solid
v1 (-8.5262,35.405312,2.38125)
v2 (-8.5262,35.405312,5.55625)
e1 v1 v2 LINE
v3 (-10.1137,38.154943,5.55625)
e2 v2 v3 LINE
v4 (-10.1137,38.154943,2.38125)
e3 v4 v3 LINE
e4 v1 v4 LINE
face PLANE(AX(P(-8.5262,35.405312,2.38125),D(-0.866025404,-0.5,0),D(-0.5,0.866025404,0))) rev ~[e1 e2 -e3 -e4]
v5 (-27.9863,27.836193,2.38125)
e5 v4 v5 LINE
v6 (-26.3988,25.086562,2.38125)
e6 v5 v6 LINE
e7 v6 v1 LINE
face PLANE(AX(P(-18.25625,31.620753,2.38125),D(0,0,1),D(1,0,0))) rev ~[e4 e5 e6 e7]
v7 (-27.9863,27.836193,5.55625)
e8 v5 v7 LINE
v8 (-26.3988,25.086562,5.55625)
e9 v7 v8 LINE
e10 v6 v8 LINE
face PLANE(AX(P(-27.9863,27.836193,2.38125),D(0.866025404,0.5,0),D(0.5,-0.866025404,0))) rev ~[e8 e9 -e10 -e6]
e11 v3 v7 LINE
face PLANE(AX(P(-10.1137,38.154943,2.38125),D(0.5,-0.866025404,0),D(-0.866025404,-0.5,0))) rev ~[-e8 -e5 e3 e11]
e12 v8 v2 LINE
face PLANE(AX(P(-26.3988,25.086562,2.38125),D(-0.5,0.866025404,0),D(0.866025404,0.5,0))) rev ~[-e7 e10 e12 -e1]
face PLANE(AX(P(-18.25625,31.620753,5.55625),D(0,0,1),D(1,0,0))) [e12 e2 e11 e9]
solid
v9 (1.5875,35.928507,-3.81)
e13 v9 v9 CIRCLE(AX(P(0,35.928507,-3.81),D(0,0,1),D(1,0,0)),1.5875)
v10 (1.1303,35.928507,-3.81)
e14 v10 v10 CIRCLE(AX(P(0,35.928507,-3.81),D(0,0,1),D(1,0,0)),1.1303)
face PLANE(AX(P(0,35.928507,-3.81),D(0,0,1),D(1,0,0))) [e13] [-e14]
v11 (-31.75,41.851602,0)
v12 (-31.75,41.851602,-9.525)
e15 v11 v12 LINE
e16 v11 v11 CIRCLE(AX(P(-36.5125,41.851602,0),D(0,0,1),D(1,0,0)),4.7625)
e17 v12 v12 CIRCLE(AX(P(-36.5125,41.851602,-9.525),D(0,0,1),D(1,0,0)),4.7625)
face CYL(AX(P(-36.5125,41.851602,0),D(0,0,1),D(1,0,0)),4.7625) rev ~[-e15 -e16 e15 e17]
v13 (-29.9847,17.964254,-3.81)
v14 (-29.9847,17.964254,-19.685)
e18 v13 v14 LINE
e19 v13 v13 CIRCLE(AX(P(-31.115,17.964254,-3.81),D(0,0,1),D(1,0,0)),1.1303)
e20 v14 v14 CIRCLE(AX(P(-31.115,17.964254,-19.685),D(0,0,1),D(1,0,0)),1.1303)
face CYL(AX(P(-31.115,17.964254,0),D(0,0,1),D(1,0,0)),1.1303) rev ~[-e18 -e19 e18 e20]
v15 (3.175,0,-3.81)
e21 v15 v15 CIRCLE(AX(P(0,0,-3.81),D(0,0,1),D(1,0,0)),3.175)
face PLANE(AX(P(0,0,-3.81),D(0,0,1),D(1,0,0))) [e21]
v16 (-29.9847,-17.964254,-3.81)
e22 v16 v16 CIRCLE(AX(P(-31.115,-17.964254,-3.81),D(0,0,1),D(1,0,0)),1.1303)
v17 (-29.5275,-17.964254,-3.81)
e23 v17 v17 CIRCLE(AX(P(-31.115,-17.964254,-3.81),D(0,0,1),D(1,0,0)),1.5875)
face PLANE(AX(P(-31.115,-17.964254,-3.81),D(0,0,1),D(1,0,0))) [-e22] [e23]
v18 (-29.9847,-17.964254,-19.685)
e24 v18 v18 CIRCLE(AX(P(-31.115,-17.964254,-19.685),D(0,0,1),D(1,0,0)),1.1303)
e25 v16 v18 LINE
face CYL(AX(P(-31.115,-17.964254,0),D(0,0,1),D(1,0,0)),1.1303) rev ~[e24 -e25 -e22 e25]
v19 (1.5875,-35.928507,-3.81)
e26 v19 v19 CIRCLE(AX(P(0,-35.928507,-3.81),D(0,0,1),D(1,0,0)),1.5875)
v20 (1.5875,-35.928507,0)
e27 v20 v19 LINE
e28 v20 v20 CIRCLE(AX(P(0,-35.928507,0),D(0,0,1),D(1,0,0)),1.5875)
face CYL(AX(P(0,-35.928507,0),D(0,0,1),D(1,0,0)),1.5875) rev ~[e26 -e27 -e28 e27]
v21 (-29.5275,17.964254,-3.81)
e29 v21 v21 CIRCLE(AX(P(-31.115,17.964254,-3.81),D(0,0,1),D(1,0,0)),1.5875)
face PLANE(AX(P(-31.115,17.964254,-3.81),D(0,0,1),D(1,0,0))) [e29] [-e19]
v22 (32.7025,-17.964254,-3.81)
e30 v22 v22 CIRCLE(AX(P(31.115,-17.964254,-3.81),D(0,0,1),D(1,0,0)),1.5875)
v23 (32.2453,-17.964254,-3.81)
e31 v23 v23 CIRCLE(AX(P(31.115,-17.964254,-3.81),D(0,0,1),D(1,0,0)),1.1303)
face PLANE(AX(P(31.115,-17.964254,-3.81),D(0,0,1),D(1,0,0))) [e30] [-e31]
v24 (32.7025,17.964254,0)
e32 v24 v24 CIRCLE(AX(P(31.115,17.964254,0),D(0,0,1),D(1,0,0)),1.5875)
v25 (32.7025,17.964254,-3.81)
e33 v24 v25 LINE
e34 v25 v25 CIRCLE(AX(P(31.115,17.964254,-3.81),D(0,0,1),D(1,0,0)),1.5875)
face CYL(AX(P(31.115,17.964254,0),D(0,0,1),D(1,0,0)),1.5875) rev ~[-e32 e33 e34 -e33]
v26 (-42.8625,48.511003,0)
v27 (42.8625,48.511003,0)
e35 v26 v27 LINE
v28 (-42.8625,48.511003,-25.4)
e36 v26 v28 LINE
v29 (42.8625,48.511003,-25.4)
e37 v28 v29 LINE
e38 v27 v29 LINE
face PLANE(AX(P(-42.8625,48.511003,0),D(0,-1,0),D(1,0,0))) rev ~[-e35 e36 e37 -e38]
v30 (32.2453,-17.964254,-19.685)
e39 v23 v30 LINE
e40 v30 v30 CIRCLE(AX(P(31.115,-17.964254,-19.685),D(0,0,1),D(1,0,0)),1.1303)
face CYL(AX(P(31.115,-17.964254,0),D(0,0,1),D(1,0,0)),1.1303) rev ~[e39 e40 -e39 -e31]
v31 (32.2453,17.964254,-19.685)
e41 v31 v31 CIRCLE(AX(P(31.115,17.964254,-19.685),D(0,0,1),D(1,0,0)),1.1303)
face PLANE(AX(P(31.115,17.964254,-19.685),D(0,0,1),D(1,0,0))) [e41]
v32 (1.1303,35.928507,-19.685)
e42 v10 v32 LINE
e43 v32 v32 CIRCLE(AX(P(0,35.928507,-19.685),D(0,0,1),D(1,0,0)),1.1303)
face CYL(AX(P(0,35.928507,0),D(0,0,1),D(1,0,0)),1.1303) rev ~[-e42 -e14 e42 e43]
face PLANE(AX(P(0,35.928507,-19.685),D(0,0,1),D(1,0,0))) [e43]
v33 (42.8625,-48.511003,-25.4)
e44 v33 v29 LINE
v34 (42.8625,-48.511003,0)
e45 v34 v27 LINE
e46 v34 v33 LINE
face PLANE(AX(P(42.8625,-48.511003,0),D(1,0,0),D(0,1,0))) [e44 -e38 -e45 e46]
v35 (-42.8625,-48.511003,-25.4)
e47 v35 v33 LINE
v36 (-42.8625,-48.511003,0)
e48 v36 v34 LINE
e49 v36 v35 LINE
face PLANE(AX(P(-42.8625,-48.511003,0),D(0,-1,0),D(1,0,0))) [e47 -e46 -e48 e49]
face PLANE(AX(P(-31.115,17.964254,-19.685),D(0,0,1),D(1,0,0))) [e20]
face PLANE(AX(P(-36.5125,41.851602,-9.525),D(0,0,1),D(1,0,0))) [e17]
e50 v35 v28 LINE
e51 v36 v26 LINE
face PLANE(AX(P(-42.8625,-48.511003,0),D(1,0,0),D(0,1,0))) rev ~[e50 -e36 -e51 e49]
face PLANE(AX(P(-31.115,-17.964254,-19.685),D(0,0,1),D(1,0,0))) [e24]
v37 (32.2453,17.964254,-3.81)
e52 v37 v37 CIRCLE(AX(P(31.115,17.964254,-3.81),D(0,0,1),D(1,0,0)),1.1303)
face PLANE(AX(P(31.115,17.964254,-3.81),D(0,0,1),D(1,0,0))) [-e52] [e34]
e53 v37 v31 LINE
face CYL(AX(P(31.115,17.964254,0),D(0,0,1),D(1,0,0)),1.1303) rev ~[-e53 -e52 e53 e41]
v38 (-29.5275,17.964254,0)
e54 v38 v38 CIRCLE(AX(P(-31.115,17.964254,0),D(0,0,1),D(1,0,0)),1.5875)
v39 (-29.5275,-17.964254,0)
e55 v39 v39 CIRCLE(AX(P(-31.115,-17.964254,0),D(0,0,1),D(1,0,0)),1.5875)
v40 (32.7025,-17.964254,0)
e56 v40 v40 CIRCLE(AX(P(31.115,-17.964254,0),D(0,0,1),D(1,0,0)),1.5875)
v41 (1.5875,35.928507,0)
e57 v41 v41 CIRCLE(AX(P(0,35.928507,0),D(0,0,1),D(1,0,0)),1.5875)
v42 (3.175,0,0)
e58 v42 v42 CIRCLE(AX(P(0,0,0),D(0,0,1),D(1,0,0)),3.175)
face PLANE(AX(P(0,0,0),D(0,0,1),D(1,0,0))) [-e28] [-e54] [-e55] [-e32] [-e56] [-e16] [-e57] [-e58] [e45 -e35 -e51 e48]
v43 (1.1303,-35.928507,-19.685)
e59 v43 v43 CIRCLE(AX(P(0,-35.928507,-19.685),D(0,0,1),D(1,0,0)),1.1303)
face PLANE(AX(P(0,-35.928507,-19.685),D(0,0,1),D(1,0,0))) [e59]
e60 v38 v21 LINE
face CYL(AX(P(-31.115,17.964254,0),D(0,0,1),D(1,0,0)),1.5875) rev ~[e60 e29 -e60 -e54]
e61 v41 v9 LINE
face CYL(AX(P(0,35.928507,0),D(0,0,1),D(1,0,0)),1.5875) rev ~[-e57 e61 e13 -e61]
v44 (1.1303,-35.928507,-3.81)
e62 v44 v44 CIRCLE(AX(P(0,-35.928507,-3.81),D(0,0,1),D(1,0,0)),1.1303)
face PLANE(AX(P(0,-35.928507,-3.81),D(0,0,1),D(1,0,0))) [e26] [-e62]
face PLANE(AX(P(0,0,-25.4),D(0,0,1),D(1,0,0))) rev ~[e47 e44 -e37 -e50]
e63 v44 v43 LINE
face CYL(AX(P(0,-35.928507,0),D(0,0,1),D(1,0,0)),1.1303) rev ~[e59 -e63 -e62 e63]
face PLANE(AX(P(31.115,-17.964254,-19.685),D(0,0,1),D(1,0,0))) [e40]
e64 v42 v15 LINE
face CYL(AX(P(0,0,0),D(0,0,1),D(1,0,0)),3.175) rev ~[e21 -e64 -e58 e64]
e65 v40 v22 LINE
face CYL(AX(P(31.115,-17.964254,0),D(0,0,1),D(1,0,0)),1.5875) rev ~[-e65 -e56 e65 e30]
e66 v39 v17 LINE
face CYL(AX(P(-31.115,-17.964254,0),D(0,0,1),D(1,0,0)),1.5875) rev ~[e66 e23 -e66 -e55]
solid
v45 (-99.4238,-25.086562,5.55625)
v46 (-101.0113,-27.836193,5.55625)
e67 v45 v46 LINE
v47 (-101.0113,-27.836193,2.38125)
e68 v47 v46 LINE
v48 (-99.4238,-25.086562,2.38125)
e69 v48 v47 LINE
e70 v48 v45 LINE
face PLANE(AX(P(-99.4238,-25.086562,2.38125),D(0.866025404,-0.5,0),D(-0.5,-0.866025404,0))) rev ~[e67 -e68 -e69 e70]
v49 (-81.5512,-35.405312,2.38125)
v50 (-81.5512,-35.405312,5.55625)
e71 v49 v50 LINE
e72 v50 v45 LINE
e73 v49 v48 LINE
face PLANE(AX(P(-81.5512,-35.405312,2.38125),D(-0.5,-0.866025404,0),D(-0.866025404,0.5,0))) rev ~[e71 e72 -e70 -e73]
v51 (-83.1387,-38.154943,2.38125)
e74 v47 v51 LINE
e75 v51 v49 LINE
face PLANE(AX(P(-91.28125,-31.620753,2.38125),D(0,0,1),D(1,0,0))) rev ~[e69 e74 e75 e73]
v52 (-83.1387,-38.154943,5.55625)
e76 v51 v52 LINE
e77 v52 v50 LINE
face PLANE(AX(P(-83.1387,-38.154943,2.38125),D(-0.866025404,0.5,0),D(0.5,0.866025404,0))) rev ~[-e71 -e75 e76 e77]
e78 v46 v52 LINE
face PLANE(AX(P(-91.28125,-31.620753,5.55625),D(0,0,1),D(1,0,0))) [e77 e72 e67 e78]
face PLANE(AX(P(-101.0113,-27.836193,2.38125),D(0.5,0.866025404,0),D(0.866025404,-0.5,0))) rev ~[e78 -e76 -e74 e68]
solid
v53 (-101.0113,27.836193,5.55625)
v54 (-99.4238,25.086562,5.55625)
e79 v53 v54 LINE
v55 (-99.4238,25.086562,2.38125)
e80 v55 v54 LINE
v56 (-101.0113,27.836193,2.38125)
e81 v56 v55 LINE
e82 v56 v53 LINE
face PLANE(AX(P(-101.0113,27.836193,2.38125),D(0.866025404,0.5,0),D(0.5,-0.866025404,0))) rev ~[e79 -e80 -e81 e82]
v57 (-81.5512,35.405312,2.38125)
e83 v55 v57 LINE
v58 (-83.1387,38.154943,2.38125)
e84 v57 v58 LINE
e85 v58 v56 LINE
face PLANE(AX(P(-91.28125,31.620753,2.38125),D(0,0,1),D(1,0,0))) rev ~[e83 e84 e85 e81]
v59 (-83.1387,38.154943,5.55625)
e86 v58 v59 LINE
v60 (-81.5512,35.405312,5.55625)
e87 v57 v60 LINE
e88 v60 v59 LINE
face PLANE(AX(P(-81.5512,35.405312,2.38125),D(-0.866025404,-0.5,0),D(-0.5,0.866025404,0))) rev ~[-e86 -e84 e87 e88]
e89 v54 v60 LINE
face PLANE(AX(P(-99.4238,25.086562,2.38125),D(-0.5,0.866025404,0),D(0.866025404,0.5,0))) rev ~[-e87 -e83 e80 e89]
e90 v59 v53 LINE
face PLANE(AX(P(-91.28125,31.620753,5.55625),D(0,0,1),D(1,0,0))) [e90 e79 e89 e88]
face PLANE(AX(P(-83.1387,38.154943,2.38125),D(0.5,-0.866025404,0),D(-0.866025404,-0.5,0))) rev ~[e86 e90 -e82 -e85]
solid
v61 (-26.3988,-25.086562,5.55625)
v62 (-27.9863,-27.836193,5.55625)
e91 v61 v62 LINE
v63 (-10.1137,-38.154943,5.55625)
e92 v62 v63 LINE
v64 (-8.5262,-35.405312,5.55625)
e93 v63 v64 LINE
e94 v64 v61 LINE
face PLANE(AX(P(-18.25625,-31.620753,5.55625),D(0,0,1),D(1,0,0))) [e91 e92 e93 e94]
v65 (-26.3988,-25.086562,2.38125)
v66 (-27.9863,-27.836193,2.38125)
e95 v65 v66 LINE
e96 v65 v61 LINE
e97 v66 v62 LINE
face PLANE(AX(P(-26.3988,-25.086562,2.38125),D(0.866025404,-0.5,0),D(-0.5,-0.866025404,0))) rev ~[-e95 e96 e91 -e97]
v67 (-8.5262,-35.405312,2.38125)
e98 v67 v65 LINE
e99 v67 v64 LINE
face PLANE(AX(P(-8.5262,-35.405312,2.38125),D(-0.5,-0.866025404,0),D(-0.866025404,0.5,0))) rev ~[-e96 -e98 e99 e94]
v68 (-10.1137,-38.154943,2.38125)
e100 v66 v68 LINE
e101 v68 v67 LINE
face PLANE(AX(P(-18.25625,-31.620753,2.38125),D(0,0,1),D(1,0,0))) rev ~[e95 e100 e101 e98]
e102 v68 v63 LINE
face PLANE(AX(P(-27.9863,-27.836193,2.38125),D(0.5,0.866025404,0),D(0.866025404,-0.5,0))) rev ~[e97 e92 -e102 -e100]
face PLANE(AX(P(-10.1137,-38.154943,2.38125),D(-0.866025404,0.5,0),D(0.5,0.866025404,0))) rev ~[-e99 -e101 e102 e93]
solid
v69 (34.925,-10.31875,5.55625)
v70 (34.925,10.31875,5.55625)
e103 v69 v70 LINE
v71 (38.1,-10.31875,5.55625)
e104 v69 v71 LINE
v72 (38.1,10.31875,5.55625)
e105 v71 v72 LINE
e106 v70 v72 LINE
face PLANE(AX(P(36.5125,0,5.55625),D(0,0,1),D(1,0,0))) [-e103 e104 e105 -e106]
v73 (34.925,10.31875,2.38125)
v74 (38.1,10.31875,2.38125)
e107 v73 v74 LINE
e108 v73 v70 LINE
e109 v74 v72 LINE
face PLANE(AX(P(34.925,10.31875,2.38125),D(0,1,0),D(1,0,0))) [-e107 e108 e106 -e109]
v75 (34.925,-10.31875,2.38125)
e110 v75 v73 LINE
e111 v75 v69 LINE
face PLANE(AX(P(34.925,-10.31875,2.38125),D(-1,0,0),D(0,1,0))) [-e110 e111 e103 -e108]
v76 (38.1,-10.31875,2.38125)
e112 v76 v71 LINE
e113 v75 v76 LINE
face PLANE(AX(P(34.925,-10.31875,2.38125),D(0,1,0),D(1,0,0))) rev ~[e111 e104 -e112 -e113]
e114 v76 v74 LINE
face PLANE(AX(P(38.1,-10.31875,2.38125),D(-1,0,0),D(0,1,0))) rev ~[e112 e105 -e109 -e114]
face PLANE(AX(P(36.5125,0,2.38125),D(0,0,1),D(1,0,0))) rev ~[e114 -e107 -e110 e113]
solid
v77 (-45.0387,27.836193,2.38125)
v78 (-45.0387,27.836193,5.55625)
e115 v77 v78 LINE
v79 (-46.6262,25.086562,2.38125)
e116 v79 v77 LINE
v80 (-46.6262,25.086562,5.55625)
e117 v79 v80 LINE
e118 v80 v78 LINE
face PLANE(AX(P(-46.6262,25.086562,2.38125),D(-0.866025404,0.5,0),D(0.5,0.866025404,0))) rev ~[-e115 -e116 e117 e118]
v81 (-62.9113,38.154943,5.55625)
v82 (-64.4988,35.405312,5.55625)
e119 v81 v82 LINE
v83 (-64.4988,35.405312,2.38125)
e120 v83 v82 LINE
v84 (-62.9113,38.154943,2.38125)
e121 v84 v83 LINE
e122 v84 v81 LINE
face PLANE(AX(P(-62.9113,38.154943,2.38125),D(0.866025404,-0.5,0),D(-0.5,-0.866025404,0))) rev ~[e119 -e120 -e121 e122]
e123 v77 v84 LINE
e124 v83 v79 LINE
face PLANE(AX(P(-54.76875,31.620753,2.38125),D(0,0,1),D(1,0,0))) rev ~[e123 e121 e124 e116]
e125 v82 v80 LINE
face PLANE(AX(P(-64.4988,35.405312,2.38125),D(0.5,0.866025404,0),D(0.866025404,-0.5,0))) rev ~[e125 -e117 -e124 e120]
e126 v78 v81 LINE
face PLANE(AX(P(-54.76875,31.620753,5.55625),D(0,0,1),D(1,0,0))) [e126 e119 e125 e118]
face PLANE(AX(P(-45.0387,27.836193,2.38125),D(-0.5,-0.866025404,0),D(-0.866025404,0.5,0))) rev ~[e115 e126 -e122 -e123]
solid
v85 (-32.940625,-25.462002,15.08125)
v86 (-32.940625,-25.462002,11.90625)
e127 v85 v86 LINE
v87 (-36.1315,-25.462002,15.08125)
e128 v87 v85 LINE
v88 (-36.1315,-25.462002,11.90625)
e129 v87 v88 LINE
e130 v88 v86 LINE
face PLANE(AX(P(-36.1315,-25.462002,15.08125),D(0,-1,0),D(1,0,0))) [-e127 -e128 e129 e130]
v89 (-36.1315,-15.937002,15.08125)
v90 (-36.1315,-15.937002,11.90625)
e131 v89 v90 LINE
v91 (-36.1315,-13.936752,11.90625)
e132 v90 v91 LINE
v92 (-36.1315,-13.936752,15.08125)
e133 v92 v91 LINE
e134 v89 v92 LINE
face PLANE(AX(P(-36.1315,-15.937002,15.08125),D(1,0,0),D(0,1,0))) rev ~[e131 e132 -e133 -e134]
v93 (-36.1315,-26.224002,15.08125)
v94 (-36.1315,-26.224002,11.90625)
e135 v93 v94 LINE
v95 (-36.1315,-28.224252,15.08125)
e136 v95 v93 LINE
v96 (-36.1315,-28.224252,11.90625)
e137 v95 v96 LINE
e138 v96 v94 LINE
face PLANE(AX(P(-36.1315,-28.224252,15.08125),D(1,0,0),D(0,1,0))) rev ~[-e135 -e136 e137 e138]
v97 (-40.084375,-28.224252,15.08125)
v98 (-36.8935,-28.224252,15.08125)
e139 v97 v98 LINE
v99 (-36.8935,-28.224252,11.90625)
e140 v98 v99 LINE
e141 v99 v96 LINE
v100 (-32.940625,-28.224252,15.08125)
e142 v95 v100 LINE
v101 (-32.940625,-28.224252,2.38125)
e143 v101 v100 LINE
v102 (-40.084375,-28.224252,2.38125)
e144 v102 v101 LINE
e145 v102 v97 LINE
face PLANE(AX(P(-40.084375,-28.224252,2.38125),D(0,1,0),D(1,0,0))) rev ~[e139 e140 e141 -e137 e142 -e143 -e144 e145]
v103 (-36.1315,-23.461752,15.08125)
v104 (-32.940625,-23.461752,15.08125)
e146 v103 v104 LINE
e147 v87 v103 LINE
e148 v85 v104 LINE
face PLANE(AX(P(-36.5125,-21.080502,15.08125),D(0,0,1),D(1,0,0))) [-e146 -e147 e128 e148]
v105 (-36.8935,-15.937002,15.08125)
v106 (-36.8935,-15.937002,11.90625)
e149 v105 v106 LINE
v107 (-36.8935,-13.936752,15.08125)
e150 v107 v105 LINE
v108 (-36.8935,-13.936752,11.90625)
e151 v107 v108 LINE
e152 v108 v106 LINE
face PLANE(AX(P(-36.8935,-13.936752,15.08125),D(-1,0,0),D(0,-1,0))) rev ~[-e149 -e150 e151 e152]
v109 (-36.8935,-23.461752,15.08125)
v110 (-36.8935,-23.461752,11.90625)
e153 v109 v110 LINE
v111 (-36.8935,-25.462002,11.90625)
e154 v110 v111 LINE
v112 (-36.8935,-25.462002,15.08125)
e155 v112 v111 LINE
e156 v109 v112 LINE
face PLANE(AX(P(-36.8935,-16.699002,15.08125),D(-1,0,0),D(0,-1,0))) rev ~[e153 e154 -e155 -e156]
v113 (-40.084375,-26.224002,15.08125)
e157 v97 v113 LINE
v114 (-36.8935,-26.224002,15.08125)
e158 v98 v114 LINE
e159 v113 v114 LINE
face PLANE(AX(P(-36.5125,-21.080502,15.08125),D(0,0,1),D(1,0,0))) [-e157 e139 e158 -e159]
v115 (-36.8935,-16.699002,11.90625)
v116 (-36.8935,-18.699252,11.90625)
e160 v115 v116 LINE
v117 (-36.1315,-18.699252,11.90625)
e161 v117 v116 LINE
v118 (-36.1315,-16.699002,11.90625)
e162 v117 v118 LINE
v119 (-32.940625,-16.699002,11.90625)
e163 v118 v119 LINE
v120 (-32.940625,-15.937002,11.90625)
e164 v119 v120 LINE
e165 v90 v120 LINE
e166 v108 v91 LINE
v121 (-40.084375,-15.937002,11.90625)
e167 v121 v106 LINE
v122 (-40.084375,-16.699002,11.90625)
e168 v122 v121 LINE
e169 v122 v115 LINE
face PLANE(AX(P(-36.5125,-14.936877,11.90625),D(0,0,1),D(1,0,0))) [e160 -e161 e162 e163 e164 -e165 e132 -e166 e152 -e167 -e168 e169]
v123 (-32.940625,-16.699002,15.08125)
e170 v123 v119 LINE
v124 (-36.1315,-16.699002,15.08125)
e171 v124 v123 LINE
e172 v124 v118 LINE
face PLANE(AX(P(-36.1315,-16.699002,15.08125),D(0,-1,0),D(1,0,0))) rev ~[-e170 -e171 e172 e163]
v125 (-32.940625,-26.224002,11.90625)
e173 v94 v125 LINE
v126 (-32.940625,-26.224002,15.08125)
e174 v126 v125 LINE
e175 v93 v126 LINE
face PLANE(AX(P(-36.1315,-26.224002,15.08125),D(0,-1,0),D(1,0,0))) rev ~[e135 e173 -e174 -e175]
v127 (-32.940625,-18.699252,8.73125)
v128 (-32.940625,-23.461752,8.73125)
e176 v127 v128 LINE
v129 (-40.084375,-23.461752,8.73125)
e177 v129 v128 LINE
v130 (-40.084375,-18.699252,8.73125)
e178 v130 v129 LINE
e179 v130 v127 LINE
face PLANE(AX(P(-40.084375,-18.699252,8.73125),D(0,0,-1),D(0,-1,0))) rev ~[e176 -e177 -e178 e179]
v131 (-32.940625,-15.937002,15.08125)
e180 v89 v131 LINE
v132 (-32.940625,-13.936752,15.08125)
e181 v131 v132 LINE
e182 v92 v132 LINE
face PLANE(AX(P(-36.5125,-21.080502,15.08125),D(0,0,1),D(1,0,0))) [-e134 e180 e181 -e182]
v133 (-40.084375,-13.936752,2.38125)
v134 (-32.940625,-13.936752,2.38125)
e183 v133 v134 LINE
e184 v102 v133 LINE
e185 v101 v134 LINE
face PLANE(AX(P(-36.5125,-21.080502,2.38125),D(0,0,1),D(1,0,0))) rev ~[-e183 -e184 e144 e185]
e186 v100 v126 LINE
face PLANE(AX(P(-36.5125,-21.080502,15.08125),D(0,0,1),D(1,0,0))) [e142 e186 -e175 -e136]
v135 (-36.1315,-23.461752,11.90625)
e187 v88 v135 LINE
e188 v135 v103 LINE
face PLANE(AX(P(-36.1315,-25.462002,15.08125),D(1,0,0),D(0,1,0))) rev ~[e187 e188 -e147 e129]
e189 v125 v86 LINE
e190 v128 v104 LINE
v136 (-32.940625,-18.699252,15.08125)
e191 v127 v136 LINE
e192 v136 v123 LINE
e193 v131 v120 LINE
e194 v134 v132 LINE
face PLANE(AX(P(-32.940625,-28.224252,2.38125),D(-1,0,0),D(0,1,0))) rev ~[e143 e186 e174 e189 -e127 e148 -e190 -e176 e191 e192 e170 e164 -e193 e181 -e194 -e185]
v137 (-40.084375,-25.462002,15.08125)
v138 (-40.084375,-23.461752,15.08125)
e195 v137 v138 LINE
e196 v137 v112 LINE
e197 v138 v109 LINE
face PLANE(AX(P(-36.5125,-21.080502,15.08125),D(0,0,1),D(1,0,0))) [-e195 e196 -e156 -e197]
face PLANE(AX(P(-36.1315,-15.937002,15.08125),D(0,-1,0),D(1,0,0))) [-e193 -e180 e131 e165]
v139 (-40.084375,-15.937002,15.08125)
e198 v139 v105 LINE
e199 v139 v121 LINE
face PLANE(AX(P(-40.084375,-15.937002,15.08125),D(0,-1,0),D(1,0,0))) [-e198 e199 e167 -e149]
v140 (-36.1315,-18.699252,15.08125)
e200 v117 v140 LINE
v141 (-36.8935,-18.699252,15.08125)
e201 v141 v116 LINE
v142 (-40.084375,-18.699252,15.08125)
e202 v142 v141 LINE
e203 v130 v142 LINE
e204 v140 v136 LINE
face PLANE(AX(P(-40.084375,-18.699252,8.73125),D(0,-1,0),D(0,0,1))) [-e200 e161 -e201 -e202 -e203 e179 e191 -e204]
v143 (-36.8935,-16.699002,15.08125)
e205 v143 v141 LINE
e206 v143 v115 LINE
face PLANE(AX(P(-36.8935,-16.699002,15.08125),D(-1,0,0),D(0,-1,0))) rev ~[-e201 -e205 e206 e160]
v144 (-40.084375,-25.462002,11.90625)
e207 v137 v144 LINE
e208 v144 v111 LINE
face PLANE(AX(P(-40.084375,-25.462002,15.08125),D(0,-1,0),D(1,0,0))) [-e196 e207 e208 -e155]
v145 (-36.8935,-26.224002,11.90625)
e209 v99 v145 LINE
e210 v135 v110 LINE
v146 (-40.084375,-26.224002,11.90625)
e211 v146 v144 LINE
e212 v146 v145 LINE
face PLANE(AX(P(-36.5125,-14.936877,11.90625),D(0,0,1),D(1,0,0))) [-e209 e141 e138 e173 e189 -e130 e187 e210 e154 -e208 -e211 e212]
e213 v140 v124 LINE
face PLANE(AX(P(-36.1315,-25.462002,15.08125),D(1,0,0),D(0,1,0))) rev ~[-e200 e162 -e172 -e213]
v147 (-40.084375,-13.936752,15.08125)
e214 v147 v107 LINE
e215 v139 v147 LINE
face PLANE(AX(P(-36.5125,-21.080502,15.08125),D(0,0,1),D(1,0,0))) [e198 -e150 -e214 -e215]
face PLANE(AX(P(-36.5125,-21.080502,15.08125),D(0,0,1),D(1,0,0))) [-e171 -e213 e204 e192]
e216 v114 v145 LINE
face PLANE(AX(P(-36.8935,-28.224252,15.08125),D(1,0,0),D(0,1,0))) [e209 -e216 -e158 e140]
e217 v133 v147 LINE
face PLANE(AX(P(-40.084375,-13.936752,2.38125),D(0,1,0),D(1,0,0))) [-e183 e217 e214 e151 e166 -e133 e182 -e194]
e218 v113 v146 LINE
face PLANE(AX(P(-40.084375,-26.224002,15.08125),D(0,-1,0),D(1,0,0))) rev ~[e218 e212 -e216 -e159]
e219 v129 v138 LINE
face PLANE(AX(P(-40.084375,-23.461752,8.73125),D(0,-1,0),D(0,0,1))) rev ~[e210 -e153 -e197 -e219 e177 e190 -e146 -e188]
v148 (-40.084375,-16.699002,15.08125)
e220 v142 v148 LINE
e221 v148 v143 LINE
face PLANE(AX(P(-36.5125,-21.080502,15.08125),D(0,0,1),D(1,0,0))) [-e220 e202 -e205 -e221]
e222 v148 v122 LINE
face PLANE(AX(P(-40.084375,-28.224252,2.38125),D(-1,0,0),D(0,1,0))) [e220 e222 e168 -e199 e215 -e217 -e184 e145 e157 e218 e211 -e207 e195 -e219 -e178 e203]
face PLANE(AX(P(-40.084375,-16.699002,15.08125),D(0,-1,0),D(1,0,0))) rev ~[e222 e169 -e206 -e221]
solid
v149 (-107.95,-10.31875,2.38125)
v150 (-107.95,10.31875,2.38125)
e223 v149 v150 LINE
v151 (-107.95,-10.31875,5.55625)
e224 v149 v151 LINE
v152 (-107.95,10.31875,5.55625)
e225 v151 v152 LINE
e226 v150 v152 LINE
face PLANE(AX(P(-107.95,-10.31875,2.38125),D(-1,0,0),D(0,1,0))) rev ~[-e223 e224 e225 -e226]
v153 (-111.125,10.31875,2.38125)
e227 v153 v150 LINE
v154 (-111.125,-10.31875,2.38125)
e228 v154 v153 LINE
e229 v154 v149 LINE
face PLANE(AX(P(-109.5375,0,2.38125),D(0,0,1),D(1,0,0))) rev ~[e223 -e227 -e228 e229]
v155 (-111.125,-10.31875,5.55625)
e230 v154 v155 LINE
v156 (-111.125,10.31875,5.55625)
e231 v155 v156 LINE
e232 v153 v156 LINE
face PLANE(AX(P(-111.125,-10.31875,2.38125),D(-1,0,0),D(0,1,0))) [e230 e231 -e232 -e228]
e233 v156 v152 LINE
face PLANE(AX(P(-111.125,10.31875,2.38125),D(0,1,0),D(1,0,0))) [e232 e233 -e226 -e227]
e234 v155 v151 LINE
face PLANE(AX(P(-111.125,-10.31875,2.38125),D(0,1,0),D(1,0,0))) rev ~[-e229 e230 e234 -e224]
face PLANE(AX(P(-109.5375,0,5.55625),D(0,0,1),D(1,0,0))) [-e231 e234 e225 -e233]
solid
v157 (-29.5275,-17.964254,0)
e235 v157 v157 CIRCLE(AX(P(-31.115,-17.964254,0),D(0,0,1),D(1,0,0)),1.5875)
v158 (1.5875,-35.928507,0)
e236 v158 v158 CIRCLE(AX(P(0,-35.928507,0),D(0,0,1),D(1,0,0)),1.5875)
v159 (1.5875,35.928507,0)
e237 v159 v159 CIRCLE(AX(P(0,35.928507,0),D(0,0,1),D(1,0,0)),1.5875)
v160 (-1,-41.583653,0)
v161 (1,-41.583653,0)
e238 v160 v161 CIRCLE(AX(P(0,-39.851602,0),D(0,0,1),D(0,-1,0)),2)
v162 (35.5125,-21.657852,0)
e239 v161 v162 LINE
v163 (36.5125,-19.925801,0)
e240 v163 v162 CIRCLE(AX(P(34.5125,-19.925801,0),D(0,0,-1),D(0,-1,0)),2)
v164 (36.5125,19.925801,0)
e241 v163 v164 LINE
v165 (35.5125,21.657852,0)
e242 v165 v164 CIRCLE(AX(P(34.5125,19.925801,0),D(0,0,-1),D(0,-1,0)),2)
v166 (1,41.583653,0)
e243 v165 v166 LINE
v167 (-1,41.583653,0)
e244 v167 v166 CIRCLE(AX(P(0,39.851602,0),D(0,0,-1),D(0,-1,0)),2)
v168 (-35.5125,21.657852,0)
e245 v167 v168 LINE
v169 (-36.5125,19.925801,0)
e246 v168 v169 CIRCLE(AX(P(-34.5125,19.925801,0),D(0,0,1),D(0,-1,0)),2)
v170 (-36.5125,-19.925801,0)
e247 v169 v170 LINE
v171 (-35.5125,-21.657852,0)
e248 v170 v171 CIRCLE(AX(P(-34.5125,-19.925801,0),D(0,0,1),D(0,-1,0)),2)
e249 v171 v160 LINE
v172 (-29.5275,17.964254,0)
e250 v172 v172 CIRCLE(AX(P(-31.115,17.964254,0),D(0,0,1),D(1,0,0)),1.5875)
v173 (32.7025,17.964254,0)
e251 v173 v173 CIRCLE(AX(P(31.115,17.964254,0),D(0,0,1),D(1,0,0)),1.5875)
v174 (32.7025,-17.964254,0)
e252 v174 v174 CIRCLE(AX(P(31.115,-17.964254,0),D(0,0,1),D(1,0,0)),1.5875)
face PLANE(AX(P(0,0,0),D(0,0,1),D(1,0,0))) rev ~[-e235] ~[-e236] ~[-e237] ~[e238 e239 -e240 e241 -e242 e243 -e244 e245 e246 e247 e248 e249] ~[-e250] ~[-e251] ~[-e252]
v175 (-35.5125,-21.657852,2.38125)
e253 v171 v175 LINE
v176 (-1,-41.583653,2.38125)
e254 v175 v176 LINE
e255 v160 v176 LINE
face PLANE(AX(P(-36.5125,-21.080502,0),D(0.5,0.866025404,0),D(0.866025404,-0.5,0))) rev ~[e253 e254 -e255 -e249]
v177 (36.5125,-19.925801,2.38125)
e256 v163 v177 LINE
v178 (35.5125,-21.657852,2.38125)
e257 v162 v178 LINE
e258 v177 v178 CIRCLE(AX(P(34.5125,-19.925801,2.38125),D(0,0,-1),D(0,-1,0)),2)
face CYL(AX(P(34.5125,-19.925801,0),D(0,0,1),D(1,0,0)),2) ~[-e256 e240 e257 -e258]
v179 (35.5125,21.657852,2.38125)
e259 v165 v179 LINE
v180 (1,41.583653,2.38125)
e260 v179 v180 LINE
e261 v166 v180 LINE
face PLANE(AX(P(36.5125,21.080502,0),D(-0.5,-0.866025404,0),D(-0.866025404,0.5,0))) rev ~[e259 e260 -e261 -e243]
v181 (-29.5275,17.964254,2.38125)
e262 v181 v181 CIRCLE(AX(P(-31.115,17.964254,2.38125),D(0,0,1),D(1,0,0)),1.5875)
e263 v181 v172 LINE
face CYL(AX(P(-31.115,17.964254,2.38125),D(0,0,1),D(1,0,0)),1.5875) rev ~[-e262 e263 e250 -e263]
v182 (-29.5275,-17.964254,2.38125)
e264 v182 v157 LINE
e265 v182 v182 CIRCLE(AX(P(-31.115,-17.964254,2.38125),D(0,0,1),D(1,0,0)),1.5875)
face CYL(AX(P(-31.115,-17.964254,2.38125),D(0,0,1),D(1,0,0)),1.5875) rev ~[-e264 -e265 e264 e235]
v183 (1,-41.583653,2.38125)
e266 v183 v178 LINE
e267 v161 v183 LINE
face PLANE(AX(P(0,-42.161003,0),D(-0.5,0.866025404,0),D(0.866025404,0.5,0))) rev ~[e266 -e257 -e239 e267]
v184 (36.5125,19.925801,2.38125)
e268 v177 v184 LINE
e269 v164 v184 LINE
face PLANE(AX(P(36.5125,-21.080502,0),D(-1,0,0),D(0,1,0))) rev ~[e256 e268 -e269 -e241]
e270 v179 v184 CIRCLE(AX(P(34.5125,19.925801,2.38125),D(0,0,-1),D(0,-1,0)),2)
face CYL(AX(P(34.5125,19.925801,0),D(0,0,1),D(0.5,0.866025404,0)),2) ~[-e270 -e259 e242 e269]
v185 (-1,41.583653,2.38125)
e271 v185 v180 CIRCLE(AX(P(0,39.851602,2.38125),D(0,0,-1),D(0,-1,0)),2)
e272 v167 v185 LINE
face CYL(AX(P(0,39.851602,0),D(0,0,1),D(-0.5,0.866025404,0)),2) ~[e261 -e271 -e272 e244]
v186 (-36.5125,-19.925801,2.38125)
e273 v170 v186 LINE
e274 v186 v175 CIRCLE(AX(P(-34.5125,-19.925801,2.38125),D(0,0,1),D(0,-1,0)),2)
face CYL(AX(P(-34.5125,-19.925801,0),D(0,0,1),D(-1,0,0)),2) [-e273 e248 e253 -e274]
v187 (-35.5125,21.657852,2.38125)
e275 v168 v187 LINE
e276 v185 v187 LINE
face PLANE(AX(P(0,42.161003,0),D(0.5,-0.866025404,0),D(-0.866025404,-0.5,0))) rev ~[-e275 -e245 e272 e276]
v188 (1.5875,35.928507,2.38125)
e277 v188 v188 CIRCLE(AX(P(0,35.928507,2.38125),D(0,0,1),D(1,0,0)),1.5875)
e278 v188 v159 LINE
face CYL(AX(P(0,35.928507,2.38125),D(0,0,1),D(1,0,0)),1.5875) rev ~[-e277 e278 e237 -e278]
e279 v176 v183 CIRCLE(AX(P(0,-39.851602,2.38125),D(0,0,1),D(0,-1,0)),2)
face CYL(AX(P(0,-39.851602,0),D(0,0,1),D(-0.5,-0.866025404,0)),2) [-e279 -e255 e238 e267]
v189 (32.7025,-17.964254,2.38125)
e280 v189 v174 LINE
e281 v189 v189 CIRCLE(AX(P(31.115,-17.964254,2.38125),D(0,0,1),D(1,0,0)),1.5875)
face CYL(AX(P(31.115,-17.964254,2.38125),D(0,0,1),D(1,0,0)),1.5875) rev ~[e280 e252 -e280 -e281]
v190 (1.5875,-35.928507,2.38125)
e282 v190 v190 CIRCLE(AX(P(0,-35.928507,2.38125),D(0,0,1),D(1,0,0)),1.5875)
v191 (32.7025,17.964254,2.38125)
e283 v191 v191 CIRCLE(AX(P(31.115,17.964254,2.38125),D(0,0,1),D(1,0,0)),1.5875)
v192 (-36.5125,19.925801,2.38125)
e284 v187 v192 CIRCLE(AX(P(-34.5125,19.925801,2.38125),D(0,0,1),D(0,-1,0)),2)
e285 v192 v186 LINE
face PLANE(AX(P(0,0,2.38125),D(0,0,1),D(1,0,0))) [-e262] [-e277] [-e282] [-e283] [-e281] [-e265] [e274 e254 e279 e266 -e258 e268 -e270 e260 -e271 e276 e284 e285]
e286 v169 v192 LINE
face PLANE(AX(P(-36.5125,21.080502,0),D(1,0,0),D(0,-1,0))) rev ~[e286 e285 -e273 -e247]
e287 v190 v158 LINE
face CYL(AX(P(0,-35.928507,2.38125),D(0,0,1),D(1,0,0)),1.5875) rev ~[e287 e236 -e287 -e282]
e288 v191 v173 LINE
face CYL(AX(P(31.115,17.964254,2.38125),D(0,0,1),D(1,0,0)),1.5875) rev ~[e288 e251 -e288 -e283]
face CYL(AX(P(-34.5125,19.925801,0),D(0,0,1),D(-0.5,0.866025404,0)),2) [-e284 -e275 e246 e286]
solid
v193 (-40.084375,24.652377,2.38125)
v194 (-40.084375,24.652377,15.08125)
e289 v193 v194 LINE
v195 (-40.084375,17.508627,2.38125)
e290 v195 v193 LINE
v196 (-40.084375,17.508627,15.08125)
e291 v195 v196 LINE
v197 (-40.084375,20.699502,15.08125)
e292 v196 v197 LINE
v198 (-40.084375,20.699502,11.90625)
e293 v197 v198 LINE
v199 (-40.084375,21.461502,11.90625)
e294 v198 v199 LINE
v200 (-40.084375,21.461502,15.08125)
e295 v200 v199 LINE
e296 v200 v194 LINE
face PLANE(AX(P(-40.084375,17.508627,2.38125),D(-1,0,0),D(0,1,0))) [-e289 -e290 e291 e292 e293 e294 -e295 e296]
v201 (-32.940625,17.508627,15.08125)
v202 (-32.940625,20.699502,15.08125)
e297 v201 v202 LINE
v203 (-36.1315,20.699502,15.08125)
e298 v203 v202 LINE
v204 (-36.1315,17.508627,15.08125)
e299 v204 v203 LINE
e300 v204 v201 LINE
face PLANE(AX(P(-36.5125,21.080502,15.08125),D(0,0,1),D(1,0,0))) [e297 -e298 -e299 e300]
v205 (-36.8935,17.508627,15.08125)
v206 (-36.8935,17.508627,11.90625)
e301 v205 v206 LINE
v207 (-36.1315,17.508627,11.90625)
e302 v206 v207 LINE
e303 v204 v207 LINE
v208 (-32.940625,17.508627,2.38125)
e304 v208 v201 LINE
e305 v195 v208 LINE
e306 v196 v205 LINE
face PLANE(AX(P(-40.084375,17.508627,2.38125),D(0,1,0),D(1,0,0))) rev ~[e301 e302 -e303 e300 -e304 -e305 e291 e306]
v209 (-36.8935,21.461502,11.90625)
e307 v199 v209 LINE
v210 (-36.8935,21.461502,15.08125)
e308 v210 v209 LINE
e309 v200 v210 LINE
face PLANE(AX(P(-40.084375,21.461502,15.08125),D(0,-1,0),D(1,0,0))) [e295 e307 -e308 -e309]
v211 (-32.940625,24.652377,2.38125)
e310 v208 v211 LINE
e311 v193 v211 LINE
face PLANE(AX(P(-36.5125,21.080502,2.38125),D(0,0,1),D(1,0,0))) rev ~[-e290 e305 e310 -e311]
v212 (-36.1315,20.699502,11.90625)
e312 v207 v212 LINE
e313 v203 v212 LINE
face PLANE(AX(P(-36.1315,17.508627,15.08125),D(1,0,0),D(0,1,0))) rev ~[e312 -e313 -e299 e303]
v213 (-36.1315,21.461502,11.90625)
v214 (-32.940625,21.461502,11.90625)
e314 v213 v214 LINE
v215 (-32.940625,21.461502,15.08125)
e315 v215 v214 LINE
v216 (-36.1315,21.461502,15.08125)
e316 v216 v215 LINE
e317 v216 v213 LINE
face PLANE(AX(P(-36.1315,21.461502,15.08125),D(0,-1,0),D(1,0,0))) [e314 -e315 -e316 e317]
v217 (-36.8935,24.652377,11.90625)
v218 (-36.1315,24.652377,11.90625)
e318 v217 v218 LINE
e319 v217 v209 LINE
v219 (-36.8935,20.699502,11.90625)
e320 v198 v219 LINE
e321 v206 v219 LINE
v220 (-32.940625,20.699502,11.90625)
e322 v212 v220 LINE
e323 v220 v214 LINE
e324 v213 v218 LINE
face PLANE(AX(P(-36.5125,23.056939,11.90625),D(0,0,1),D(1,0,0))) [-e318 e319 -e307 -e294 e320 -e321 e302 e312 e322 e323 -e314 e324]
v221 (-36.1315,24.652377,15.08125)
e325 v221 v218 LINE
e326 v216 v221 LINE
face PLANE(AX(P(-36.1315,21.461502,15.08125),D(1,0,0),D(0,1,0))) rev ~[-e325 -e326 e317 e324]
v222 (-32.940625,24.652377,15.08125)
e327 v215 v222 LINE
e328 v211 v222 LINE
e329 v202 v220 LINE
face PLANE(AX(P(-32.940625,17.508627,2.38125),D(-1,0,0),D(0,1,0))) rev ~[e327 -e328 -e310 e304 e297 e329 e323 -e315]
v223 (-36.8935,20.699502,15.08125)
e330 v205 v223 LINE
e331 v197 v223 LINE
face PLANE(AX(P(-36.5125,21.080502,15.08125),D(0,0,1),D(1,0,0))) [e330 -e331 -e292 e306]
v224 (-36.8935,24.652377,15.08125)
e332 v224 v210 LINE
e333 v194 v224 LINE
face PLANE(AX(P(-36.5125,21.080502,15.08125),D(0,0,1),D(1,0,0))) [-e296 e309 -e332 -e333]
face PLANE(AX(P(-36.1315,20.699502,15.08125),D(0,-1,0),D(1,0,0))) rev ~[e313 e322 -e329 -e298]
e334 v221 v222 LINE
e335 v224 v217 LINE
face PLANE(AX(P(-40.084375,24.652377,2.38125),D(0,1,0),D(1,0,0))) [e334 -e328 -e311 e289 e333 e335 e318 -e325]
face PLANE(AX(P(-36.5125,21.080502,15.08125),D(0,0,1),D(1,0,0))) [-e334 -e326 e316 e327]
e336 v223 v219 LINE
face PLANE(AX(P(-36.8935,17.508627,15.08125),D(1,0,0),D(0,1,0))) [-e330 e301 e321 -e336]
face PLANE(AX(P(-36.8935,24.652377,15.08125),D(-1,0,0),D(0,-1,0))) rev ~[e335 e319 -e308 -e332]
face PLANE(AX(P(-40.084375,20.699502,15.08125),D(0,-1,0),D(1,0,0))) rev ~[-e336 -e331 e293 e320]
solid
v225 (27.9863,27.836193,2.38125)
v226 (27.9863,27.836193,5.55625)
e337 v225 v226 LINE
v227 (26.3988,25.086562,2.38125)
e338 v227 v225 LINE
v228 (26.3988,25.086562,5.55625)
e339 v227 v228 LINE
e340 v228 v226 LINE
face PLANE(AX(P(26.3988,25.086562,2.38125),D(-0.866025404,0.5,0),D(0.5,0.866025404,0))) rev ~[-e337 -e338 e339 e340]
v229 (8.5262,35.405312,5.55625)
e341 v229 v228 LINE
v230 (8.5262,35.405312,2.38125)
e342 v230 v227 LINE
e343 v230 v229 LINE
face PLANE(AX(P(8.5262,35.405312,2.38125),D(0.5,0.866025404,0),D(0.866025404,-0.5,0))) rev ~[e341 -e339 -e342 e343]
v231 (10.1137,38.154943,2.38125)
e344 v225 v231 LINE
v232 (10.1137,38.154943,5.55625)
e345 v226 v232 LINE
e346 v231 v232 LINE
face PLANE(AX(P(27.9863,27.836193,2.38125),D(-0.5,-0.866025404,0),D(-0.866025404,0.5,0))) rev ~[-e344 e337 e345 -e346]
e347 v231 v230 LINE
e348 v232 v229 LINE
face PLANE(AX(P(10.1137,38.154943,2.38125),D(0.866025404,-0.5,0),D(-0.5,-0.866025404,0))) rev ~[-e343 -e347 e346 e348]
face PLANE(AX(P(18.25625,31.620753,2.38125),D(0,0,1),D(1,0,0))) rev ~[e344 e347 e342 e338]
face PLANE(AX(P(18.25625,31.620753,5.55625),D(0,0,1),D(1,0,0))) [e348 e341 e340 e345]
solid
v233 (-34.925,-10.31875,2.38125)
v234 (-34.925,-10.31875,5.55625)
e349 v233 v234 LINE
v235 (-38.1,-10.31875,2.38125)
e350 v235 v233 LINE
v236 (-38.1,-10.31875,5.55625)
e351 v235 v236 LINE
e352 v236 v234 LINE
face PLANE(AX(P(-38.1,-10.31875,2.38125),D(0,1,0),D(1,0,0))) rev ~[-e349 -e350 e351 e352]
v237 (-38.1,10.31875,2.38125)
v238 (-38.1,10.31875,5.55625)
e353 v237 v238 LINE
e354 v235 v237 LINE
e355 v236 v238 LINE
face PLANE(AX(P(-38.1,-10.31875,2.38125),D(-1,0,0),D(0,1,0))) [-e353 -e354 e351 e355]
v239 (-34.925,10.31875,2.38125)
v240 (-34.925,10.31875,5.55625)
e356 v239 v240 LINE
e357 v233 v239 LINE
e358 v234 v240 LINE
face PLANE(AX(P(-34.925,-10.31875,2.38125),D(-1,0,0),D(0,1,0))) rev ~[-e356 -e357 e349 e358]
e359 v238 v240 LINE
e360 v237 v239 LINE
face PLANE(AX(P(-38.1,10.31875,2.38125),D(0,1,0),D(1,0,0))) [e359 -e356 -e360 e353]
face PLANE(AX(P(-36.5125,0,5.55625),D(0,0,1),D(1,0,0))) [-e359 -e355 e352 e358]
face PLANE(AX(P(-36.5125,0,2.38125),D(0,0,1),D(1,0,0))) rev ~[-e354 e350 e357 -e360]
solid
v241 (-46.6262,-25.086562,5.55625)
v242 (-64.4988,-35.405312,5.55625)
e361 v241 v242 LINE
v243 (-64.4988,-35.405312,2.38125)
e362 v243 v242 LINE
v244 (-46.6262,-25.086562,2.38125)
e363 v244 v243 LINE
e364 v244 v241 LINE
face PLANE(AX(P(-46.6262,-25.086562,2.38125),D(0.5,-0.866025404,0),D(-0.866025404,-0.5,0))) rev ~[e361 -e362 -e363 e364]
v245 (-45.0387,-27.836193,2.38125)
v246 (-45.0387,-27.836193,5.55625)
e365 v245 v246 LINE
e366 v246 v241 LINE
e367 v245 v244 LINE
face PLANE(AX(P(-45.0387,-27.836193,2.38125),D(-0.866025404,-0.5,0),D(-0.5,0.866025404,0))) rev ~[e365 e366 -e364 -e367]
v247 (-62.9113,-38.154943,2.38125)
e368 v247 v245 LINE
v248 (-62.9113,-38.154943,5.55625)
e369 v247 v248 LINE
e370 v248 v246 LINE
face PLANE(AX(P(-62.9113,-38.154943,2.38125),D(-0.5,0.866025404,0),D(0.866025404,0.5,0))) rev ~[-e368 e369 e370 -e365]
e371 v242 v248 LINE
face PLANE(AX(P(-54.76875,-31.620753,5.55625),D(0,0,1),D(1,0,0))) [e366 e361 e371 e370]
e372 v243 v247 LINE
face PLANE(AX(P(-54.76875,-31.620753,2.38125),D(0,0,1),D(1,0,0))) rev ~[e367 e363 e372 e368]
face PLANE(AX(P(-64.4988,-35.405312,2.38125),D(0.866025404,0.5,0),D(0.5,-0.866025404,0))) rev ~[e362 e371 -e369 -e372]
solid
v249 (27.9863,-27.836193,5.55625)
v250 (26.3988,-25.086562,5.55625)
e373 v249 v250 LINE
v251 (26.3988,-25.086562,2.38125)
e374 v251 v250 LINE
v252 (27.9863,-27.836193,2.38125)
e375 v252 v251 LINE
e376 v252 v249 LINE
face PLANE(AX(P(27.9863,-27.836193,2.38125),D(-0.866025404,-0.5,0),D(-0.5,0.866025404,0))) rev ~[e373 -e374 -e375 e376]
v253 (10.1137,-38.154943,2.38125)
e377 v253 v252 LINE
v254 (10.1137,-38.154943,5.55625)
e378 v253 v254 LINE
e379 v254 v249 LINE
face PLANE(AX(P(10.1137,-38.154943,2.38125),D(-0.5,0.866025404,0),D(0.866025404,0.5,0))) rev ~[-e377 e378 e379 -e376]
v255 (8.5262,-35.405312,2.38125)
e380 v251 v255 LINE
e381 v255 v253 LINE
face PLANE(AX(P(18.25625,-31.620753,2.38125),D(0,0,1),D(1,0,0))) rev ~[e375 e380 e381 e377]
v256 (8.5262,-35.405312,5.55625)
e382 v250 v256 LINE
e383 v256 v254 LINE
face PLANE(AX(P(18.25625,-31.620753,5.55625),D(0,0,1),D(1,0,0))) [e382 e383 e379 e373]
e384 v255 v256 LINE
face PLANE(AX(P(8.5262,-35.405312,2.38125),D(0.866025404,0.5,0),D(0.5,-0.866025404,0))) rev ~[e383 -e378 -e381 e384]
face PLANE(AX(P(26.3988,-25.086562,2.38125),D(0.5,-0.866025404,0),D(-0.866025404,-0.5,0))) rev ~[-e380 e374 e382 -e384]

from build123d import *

# Parameters (mm, degrees)
F1_DEPTH  = 2.38125
F2_R      = 1.5875
F3_DEPTH  = 2.38225
F4_R      = 2
F5_W      = 85.725
F5_H      = 97.0220068151
F6_DEPTH  = 25.4
F7_R      = 3.175
F7_R_2    = 1.5875
F8_DEPTH  = 3.81
F9_R      = 1.1303
F10_DEPTH = 19.685
F11_R     = 4.7625
F12_DEPTH = 9.525
F13_W     = 3.175
F13_H     = 20.6375
F14_DEPTH = 3.175
F15_W     = 7.14375
F15_H     = 7.14375
F16_DEPTH = 12.7
F15_H_2   = 14.2875
F17_W     = 4.7625
F17_H     = 6.35
F18_DEPTH = 7.14375
F19_W     = 0.762
F19_H     = 3.190875
F19_H_2   = 0.762
F19_W_2   = 3.190875
F19_H_3   = 2.00025
F19_H_4   = 8.763
F20_DEPTH = 3.175


with BuildPart() as f1:
    # F0 (on Top) → F1 (new body)
    with BuildSketch(Plane.XY):
        Polygon((0, 42.1610034076), (-36.5125, 21.0805017038), (-36.5125, -21.0805017038), (0, -42.1610034076), (36.5125, -21.0805017038), (36.5125, 21.0805017038), align=None)
    extrude(amount=F1_DEPTH)

    # F2 (on face) → F3 (cut, through all)
    with BuildSketch(Plane.XY.offset(2.38125)):
        with Locations((-31.115, 17.9642536258)):
            Circle(F2_R)
        with Locations((0, 35.9285072517)):
            Circle(F2_R)
        with Locations((31.115, 17.9642536258)):
            Circle(F2_R)
        with Locations((31.115, -17.9642536258)):
            Circle(F2_R)
        with Locations((0, -35.9285072517)):
            Circle(F2_R)
        with Locations((-31.115, -17.9642536258)):
            Circle(F2_R)
    extrude(amount=-F3_DEPTH, mode=Mode.SUBTRACT)

    # F4
    f4_edges = [f1.edges().sort_by_distance(p)[0] for p in [
        (0, -42.161003, 1.190625),
        (36.5125, -21.080502, 1.190625),
        (-36.5125, -21.080502, 1.190625),
        (-36.5125, 21.080502, 1.190625),
        (0, 42.161003, 1.190625),
        (36.5125, 21.080502, 1.190625),
    ]]
    fillet(f4_edges, radius=F4_R)


with BuildPart() as f6:
    # F5 (on face) → F6 (new body)
    with BuildSketch(Plane.XY):
        Rectangle(F5_W, F5_H)
    extrude(amount=-F6_DEPTH)

    # F7 (on face) → F8 (cut)
    with BuildSketch(Plane.XY):
        Circle(F7_R)
        with Locations((0, -35.9285072517)):
            Circle(F7_R_2)
        with Locations((31.115, -17.9642536258)):
            Circle(F7_R_2)
        with Locations((-31.115, -17.9642536258)):
            Circle(F7_R_2)
        with Locations((-31.115, 17.9642536258)):
            Circle(F7_R_2)
        with Locations((0, 35.9285072517)):
            Circle(F7_R_2)
        with Locations((31.115, 17.9642536258)):
            Circle(F7_R_2)
    extrude(amount=-F8_DEPTH, mode=Mode.SUBTRACT)

    # F9 (on face) → F10 (cut)
    with BuildSketch(Plane.XY):
        with Locations((0, -35.9285072517)):
            Circle(F9_R)
        with Locations((31.115, -17.9642536258)):
            Circle(F9_R)
        with Locations((31.115, 17.9642536258)):
            Circle(F9_R)
        with Locations((0, 35.9285072517)):
            Circle(F9_R)
        with Locations((-31.115, 17.9642536258)):
            Circle(F9_R)
        with Locations((-31.115, -17.9642536258)):
            Circle(F9_R)
    extrude(amount=-F10_DEPTH, mode=Mode.SUBTRACT)

    # F11 (on face) → F12 (cut)
    with BuildSketch(Plane.XY):
        with Locations((-36.5125, 41.8516023308)):
            Circle(F11_R)
    extrude(amount=-F12_DEPTH, mode=Mode.SUBTRACT)


with BuildPart() as f14:
    # F13 (on face) → F14 (new body)
    with BuildSketch(Plane.XY.offset(2.38125)):
        with Locations((-36.5125, 0)):
            Rectangle(F13_W, F13_H)
    extrude(amount=F14_DEPTH)


with BuildPart() as f14b:
    # F13 (on face) → F14, piece 2 (new body)
    with BuildSketch(Plane.XY.offset(2.38125)):
        Polygon((-26.3987996353, -25.0865622272), (-27.9862996353, -27.8361928842), (-10.1137003647, -38.1549428842), (-8.5262003647, -35.4053122272), align=None)
    extrude(amount=F14_DEPTH)


with BuildPart() as f14c:
    # F13 (on face) → F14, piece 3 (new body)
    with BuildSketch(Plane.XY.offset(2.38125)):
        Polygon((8.5262003647, -35.4053122272), (10.1137003647, -38.1549428842), (27.9862996353, -27.8361928842), (26.3987996353, -25.0865622272), align=None)
    extrude(amount=F14_DEPTH)


with BuildPart() as f14d:
    # F13 (on face) → F14, piece 4 (new body)
    with BuildSketch(Plane.XY.offset(2.38125)):
        with Locations((36.5125, 0)):
            Rectangle(F13_W, F13_H)
    extrude(amount=F14_DEPTH)


with BuildPart() as f14e:
    # F13 (on face) → F14, piece 5 (new body)
    with BuildSketch(Plane.XY.offset(2.38125)):
        Polygon((26.3987996353, 25.0865622272), (27.9862996353, 27.8361928842), (10.1137003647, 38.1549428842), (8.5262003647, 35.4053122272), align=None)
    extrude(amount=F14_DEPTH)


with BuildPart() as f14f:
    # F13 (on face) → F14, piece 6 (new body)
    with BuildSketch(Plane.XY.offset(2.38125)):
        Polygon((-8.5262003647, 35.4053122272), (-10.1137003647, 38.1549428842), (-27.9862996353, 27.8361928842), (-26.3987996353, 25.0865622272), align=None)
    extrude(amount=F14_DEPTH)


with BuildPart() as f14g:
    # F13 (on face) → F14, piece 7 (new body)
    with BuildSketch(Plane.XY.offset(2.38125)):
        Polygon((-83.1387003647, -38.1549428842), (-81.5512003647, -35.4053122272), (-99.4237996353, -25.0865622272), (-101.0112996353, -27.8361928842), align=None)
    extrude(amount=F14_DEPTH)


with BuildPart() as f14h:
    # F13 (on face) → F14, piece 8 (new body)
    with BuildSketch(Plane.XY.offset(2.38125)):
        Polygon((-62.9112996353, 38.1549428842), (-64.4987996353, 35.4053122272), (-46.6262003647, 25.0865622272), (-45.0387003647, 27.8361928842), align=None)
    extrude(amount=F14_DEPTH)


with BuildPart() as f14i:
    # F13 (on face) → F14, piece 9 (new body)
    with BuildSketch(Plane.XY.offset(2.38125)):
        Polygon((-46.6262003647, -25.0865622272), (-64.4987996353, -35.4053122272), (-62.9112996353, -38.1549428842), (-45.0387003647, -27.8361928842), align=None)
    extrude(amount=F14_DEPTH)


with BuildPart() as f14j:
    # F13 (on face) → F14, piece 10 (new body)
    with BuildSketch(Plane.XY.offset(2.38125)):
        Polygon((-99.4237996353, 25.0865622272), (-81.5512003647, 35.4053122272), (-83.1387003647, 38.1549428842), (-101.0112996353, 27.8361928842), align=None)
    extrude(amount=F14_DEPTH)


with BuildPart() as f14k:
    # F13 (on face) → F14, piece 11 (new body)
    with BuildSketch(Plane.XY.offset(2.38125)):
        with Locations((-109.5375, 0)):
            Rectangle(F13_W, F13_H)
    extrude(amount=F14_DEPTH)


with BuildPart() as f16:
    # F15 (on face) → F16 (new body)
    with BuildSketch(Plane.XY.offset(2.38125)):
        with Locations((-36.5125, 21.0805017038)):
            Rectangle(F15_W, F15_H)
    extrude(amount=F16_DEPTH)


with BuildPart() as f16b:
    # F15 (on face) → F16, piece 2 (new body)
    with BuildSketch(Plane.XY.offset(2.38125)):
        with Locations((-36.5125, -21.0805017038)):
            Rectangle(F15_W, F15_H_2)
    extrude(amount=F16_DEPTH)

    # F17 (on face) → F18 (cut, through all)
    with BuildSketch(Plane(origin=(-40.084375, 0, 0), x_dir=(0, -1, 0), z_dir=(-1, 0, 0))):
        with Locations((21.0805017038, 11.90625)):
            Rectangle(F17_W, F17_H)
    extrude(amount=-F18_DEPTH, mode=Mode.SUBTRACT)


with BuildPart() as f20_tool:
    # F19 (on face) → F20 (new body)
    with BuildSketch(Plane.XY.offset(15.08125)):
        with Locations((-36.5125, 23.0569392038)):
            Rectangle(F19_W, F19_H)
        with Locations((-36.5125, 21.0805017038)):
            Rectangle(F19_W, F19_H_2)
        with Locations((-38.4889375, 21.0805017038)):
            Rectangle(F19_W_2, F19_H_2)
        with Locations((-34.5360625, 21.0805017038)):
            Rectangle(F19_W_2, F19_H_2)
        with Locations((-36.5125, 19.1040642038)):
            Rectangle(F19_W, F19_H)
        with Locations((-36.5125, -14.9368767038)):
            Rectangle(F19_W, F19_H_3)
        with Locations((-36.5125, -16.3180017038)):
            Rectangle(F19_W, F19_H_2)
        with Locations((-38.4889375, -16.3180017038)):
            Rectangle(F19_W_2, F19_H_2)
        with Locations((-34.5360625, -16.3180017038)):
            Rectangle(F19_W_2, F19_H_2)
        with Locations((-36.5125, -21.0805017038)):
            Rectangle(F19_W, F19_H_4)
        with Locations((-36.5125, -25.8430017038)):
            Rectangle(F19_W, F19_H_2)
        with Locations((-38.4889375, -25.8430017038)):
            Rectangle(F19_W_2, F19_H_2)
        with Locations((-34.5360625, -25.8430017038)):
            Rectangle(F19_W_2, F19_H_2)
        with Locations((-36.5125, -27.2241267038)):
            Rectangle(F19_W, F19_H_3)
    extrude(amount=-F20_DEPTH)


with BuildPart() as f16_1:
    add(f16.part)

    # F20: cut by f20_tool
    add(f20_tool.part, mode=Mode.SUBTRACT)


with BuildPart() as f16b_1:
    add(f16b.part)

    # F20: cut by f20_tool
    add(f20_tool.part, mode=Mode.SUBTRACT)


solid = Compound([f1.part, f6.part, f14.part, f14b.part, f14c.part, f14d.part, f14e.part, f14f.part, f14g.part, f14h.part, f14i.part, f14j.part, f14k.part, f16_1.part, f16b_1.part])
